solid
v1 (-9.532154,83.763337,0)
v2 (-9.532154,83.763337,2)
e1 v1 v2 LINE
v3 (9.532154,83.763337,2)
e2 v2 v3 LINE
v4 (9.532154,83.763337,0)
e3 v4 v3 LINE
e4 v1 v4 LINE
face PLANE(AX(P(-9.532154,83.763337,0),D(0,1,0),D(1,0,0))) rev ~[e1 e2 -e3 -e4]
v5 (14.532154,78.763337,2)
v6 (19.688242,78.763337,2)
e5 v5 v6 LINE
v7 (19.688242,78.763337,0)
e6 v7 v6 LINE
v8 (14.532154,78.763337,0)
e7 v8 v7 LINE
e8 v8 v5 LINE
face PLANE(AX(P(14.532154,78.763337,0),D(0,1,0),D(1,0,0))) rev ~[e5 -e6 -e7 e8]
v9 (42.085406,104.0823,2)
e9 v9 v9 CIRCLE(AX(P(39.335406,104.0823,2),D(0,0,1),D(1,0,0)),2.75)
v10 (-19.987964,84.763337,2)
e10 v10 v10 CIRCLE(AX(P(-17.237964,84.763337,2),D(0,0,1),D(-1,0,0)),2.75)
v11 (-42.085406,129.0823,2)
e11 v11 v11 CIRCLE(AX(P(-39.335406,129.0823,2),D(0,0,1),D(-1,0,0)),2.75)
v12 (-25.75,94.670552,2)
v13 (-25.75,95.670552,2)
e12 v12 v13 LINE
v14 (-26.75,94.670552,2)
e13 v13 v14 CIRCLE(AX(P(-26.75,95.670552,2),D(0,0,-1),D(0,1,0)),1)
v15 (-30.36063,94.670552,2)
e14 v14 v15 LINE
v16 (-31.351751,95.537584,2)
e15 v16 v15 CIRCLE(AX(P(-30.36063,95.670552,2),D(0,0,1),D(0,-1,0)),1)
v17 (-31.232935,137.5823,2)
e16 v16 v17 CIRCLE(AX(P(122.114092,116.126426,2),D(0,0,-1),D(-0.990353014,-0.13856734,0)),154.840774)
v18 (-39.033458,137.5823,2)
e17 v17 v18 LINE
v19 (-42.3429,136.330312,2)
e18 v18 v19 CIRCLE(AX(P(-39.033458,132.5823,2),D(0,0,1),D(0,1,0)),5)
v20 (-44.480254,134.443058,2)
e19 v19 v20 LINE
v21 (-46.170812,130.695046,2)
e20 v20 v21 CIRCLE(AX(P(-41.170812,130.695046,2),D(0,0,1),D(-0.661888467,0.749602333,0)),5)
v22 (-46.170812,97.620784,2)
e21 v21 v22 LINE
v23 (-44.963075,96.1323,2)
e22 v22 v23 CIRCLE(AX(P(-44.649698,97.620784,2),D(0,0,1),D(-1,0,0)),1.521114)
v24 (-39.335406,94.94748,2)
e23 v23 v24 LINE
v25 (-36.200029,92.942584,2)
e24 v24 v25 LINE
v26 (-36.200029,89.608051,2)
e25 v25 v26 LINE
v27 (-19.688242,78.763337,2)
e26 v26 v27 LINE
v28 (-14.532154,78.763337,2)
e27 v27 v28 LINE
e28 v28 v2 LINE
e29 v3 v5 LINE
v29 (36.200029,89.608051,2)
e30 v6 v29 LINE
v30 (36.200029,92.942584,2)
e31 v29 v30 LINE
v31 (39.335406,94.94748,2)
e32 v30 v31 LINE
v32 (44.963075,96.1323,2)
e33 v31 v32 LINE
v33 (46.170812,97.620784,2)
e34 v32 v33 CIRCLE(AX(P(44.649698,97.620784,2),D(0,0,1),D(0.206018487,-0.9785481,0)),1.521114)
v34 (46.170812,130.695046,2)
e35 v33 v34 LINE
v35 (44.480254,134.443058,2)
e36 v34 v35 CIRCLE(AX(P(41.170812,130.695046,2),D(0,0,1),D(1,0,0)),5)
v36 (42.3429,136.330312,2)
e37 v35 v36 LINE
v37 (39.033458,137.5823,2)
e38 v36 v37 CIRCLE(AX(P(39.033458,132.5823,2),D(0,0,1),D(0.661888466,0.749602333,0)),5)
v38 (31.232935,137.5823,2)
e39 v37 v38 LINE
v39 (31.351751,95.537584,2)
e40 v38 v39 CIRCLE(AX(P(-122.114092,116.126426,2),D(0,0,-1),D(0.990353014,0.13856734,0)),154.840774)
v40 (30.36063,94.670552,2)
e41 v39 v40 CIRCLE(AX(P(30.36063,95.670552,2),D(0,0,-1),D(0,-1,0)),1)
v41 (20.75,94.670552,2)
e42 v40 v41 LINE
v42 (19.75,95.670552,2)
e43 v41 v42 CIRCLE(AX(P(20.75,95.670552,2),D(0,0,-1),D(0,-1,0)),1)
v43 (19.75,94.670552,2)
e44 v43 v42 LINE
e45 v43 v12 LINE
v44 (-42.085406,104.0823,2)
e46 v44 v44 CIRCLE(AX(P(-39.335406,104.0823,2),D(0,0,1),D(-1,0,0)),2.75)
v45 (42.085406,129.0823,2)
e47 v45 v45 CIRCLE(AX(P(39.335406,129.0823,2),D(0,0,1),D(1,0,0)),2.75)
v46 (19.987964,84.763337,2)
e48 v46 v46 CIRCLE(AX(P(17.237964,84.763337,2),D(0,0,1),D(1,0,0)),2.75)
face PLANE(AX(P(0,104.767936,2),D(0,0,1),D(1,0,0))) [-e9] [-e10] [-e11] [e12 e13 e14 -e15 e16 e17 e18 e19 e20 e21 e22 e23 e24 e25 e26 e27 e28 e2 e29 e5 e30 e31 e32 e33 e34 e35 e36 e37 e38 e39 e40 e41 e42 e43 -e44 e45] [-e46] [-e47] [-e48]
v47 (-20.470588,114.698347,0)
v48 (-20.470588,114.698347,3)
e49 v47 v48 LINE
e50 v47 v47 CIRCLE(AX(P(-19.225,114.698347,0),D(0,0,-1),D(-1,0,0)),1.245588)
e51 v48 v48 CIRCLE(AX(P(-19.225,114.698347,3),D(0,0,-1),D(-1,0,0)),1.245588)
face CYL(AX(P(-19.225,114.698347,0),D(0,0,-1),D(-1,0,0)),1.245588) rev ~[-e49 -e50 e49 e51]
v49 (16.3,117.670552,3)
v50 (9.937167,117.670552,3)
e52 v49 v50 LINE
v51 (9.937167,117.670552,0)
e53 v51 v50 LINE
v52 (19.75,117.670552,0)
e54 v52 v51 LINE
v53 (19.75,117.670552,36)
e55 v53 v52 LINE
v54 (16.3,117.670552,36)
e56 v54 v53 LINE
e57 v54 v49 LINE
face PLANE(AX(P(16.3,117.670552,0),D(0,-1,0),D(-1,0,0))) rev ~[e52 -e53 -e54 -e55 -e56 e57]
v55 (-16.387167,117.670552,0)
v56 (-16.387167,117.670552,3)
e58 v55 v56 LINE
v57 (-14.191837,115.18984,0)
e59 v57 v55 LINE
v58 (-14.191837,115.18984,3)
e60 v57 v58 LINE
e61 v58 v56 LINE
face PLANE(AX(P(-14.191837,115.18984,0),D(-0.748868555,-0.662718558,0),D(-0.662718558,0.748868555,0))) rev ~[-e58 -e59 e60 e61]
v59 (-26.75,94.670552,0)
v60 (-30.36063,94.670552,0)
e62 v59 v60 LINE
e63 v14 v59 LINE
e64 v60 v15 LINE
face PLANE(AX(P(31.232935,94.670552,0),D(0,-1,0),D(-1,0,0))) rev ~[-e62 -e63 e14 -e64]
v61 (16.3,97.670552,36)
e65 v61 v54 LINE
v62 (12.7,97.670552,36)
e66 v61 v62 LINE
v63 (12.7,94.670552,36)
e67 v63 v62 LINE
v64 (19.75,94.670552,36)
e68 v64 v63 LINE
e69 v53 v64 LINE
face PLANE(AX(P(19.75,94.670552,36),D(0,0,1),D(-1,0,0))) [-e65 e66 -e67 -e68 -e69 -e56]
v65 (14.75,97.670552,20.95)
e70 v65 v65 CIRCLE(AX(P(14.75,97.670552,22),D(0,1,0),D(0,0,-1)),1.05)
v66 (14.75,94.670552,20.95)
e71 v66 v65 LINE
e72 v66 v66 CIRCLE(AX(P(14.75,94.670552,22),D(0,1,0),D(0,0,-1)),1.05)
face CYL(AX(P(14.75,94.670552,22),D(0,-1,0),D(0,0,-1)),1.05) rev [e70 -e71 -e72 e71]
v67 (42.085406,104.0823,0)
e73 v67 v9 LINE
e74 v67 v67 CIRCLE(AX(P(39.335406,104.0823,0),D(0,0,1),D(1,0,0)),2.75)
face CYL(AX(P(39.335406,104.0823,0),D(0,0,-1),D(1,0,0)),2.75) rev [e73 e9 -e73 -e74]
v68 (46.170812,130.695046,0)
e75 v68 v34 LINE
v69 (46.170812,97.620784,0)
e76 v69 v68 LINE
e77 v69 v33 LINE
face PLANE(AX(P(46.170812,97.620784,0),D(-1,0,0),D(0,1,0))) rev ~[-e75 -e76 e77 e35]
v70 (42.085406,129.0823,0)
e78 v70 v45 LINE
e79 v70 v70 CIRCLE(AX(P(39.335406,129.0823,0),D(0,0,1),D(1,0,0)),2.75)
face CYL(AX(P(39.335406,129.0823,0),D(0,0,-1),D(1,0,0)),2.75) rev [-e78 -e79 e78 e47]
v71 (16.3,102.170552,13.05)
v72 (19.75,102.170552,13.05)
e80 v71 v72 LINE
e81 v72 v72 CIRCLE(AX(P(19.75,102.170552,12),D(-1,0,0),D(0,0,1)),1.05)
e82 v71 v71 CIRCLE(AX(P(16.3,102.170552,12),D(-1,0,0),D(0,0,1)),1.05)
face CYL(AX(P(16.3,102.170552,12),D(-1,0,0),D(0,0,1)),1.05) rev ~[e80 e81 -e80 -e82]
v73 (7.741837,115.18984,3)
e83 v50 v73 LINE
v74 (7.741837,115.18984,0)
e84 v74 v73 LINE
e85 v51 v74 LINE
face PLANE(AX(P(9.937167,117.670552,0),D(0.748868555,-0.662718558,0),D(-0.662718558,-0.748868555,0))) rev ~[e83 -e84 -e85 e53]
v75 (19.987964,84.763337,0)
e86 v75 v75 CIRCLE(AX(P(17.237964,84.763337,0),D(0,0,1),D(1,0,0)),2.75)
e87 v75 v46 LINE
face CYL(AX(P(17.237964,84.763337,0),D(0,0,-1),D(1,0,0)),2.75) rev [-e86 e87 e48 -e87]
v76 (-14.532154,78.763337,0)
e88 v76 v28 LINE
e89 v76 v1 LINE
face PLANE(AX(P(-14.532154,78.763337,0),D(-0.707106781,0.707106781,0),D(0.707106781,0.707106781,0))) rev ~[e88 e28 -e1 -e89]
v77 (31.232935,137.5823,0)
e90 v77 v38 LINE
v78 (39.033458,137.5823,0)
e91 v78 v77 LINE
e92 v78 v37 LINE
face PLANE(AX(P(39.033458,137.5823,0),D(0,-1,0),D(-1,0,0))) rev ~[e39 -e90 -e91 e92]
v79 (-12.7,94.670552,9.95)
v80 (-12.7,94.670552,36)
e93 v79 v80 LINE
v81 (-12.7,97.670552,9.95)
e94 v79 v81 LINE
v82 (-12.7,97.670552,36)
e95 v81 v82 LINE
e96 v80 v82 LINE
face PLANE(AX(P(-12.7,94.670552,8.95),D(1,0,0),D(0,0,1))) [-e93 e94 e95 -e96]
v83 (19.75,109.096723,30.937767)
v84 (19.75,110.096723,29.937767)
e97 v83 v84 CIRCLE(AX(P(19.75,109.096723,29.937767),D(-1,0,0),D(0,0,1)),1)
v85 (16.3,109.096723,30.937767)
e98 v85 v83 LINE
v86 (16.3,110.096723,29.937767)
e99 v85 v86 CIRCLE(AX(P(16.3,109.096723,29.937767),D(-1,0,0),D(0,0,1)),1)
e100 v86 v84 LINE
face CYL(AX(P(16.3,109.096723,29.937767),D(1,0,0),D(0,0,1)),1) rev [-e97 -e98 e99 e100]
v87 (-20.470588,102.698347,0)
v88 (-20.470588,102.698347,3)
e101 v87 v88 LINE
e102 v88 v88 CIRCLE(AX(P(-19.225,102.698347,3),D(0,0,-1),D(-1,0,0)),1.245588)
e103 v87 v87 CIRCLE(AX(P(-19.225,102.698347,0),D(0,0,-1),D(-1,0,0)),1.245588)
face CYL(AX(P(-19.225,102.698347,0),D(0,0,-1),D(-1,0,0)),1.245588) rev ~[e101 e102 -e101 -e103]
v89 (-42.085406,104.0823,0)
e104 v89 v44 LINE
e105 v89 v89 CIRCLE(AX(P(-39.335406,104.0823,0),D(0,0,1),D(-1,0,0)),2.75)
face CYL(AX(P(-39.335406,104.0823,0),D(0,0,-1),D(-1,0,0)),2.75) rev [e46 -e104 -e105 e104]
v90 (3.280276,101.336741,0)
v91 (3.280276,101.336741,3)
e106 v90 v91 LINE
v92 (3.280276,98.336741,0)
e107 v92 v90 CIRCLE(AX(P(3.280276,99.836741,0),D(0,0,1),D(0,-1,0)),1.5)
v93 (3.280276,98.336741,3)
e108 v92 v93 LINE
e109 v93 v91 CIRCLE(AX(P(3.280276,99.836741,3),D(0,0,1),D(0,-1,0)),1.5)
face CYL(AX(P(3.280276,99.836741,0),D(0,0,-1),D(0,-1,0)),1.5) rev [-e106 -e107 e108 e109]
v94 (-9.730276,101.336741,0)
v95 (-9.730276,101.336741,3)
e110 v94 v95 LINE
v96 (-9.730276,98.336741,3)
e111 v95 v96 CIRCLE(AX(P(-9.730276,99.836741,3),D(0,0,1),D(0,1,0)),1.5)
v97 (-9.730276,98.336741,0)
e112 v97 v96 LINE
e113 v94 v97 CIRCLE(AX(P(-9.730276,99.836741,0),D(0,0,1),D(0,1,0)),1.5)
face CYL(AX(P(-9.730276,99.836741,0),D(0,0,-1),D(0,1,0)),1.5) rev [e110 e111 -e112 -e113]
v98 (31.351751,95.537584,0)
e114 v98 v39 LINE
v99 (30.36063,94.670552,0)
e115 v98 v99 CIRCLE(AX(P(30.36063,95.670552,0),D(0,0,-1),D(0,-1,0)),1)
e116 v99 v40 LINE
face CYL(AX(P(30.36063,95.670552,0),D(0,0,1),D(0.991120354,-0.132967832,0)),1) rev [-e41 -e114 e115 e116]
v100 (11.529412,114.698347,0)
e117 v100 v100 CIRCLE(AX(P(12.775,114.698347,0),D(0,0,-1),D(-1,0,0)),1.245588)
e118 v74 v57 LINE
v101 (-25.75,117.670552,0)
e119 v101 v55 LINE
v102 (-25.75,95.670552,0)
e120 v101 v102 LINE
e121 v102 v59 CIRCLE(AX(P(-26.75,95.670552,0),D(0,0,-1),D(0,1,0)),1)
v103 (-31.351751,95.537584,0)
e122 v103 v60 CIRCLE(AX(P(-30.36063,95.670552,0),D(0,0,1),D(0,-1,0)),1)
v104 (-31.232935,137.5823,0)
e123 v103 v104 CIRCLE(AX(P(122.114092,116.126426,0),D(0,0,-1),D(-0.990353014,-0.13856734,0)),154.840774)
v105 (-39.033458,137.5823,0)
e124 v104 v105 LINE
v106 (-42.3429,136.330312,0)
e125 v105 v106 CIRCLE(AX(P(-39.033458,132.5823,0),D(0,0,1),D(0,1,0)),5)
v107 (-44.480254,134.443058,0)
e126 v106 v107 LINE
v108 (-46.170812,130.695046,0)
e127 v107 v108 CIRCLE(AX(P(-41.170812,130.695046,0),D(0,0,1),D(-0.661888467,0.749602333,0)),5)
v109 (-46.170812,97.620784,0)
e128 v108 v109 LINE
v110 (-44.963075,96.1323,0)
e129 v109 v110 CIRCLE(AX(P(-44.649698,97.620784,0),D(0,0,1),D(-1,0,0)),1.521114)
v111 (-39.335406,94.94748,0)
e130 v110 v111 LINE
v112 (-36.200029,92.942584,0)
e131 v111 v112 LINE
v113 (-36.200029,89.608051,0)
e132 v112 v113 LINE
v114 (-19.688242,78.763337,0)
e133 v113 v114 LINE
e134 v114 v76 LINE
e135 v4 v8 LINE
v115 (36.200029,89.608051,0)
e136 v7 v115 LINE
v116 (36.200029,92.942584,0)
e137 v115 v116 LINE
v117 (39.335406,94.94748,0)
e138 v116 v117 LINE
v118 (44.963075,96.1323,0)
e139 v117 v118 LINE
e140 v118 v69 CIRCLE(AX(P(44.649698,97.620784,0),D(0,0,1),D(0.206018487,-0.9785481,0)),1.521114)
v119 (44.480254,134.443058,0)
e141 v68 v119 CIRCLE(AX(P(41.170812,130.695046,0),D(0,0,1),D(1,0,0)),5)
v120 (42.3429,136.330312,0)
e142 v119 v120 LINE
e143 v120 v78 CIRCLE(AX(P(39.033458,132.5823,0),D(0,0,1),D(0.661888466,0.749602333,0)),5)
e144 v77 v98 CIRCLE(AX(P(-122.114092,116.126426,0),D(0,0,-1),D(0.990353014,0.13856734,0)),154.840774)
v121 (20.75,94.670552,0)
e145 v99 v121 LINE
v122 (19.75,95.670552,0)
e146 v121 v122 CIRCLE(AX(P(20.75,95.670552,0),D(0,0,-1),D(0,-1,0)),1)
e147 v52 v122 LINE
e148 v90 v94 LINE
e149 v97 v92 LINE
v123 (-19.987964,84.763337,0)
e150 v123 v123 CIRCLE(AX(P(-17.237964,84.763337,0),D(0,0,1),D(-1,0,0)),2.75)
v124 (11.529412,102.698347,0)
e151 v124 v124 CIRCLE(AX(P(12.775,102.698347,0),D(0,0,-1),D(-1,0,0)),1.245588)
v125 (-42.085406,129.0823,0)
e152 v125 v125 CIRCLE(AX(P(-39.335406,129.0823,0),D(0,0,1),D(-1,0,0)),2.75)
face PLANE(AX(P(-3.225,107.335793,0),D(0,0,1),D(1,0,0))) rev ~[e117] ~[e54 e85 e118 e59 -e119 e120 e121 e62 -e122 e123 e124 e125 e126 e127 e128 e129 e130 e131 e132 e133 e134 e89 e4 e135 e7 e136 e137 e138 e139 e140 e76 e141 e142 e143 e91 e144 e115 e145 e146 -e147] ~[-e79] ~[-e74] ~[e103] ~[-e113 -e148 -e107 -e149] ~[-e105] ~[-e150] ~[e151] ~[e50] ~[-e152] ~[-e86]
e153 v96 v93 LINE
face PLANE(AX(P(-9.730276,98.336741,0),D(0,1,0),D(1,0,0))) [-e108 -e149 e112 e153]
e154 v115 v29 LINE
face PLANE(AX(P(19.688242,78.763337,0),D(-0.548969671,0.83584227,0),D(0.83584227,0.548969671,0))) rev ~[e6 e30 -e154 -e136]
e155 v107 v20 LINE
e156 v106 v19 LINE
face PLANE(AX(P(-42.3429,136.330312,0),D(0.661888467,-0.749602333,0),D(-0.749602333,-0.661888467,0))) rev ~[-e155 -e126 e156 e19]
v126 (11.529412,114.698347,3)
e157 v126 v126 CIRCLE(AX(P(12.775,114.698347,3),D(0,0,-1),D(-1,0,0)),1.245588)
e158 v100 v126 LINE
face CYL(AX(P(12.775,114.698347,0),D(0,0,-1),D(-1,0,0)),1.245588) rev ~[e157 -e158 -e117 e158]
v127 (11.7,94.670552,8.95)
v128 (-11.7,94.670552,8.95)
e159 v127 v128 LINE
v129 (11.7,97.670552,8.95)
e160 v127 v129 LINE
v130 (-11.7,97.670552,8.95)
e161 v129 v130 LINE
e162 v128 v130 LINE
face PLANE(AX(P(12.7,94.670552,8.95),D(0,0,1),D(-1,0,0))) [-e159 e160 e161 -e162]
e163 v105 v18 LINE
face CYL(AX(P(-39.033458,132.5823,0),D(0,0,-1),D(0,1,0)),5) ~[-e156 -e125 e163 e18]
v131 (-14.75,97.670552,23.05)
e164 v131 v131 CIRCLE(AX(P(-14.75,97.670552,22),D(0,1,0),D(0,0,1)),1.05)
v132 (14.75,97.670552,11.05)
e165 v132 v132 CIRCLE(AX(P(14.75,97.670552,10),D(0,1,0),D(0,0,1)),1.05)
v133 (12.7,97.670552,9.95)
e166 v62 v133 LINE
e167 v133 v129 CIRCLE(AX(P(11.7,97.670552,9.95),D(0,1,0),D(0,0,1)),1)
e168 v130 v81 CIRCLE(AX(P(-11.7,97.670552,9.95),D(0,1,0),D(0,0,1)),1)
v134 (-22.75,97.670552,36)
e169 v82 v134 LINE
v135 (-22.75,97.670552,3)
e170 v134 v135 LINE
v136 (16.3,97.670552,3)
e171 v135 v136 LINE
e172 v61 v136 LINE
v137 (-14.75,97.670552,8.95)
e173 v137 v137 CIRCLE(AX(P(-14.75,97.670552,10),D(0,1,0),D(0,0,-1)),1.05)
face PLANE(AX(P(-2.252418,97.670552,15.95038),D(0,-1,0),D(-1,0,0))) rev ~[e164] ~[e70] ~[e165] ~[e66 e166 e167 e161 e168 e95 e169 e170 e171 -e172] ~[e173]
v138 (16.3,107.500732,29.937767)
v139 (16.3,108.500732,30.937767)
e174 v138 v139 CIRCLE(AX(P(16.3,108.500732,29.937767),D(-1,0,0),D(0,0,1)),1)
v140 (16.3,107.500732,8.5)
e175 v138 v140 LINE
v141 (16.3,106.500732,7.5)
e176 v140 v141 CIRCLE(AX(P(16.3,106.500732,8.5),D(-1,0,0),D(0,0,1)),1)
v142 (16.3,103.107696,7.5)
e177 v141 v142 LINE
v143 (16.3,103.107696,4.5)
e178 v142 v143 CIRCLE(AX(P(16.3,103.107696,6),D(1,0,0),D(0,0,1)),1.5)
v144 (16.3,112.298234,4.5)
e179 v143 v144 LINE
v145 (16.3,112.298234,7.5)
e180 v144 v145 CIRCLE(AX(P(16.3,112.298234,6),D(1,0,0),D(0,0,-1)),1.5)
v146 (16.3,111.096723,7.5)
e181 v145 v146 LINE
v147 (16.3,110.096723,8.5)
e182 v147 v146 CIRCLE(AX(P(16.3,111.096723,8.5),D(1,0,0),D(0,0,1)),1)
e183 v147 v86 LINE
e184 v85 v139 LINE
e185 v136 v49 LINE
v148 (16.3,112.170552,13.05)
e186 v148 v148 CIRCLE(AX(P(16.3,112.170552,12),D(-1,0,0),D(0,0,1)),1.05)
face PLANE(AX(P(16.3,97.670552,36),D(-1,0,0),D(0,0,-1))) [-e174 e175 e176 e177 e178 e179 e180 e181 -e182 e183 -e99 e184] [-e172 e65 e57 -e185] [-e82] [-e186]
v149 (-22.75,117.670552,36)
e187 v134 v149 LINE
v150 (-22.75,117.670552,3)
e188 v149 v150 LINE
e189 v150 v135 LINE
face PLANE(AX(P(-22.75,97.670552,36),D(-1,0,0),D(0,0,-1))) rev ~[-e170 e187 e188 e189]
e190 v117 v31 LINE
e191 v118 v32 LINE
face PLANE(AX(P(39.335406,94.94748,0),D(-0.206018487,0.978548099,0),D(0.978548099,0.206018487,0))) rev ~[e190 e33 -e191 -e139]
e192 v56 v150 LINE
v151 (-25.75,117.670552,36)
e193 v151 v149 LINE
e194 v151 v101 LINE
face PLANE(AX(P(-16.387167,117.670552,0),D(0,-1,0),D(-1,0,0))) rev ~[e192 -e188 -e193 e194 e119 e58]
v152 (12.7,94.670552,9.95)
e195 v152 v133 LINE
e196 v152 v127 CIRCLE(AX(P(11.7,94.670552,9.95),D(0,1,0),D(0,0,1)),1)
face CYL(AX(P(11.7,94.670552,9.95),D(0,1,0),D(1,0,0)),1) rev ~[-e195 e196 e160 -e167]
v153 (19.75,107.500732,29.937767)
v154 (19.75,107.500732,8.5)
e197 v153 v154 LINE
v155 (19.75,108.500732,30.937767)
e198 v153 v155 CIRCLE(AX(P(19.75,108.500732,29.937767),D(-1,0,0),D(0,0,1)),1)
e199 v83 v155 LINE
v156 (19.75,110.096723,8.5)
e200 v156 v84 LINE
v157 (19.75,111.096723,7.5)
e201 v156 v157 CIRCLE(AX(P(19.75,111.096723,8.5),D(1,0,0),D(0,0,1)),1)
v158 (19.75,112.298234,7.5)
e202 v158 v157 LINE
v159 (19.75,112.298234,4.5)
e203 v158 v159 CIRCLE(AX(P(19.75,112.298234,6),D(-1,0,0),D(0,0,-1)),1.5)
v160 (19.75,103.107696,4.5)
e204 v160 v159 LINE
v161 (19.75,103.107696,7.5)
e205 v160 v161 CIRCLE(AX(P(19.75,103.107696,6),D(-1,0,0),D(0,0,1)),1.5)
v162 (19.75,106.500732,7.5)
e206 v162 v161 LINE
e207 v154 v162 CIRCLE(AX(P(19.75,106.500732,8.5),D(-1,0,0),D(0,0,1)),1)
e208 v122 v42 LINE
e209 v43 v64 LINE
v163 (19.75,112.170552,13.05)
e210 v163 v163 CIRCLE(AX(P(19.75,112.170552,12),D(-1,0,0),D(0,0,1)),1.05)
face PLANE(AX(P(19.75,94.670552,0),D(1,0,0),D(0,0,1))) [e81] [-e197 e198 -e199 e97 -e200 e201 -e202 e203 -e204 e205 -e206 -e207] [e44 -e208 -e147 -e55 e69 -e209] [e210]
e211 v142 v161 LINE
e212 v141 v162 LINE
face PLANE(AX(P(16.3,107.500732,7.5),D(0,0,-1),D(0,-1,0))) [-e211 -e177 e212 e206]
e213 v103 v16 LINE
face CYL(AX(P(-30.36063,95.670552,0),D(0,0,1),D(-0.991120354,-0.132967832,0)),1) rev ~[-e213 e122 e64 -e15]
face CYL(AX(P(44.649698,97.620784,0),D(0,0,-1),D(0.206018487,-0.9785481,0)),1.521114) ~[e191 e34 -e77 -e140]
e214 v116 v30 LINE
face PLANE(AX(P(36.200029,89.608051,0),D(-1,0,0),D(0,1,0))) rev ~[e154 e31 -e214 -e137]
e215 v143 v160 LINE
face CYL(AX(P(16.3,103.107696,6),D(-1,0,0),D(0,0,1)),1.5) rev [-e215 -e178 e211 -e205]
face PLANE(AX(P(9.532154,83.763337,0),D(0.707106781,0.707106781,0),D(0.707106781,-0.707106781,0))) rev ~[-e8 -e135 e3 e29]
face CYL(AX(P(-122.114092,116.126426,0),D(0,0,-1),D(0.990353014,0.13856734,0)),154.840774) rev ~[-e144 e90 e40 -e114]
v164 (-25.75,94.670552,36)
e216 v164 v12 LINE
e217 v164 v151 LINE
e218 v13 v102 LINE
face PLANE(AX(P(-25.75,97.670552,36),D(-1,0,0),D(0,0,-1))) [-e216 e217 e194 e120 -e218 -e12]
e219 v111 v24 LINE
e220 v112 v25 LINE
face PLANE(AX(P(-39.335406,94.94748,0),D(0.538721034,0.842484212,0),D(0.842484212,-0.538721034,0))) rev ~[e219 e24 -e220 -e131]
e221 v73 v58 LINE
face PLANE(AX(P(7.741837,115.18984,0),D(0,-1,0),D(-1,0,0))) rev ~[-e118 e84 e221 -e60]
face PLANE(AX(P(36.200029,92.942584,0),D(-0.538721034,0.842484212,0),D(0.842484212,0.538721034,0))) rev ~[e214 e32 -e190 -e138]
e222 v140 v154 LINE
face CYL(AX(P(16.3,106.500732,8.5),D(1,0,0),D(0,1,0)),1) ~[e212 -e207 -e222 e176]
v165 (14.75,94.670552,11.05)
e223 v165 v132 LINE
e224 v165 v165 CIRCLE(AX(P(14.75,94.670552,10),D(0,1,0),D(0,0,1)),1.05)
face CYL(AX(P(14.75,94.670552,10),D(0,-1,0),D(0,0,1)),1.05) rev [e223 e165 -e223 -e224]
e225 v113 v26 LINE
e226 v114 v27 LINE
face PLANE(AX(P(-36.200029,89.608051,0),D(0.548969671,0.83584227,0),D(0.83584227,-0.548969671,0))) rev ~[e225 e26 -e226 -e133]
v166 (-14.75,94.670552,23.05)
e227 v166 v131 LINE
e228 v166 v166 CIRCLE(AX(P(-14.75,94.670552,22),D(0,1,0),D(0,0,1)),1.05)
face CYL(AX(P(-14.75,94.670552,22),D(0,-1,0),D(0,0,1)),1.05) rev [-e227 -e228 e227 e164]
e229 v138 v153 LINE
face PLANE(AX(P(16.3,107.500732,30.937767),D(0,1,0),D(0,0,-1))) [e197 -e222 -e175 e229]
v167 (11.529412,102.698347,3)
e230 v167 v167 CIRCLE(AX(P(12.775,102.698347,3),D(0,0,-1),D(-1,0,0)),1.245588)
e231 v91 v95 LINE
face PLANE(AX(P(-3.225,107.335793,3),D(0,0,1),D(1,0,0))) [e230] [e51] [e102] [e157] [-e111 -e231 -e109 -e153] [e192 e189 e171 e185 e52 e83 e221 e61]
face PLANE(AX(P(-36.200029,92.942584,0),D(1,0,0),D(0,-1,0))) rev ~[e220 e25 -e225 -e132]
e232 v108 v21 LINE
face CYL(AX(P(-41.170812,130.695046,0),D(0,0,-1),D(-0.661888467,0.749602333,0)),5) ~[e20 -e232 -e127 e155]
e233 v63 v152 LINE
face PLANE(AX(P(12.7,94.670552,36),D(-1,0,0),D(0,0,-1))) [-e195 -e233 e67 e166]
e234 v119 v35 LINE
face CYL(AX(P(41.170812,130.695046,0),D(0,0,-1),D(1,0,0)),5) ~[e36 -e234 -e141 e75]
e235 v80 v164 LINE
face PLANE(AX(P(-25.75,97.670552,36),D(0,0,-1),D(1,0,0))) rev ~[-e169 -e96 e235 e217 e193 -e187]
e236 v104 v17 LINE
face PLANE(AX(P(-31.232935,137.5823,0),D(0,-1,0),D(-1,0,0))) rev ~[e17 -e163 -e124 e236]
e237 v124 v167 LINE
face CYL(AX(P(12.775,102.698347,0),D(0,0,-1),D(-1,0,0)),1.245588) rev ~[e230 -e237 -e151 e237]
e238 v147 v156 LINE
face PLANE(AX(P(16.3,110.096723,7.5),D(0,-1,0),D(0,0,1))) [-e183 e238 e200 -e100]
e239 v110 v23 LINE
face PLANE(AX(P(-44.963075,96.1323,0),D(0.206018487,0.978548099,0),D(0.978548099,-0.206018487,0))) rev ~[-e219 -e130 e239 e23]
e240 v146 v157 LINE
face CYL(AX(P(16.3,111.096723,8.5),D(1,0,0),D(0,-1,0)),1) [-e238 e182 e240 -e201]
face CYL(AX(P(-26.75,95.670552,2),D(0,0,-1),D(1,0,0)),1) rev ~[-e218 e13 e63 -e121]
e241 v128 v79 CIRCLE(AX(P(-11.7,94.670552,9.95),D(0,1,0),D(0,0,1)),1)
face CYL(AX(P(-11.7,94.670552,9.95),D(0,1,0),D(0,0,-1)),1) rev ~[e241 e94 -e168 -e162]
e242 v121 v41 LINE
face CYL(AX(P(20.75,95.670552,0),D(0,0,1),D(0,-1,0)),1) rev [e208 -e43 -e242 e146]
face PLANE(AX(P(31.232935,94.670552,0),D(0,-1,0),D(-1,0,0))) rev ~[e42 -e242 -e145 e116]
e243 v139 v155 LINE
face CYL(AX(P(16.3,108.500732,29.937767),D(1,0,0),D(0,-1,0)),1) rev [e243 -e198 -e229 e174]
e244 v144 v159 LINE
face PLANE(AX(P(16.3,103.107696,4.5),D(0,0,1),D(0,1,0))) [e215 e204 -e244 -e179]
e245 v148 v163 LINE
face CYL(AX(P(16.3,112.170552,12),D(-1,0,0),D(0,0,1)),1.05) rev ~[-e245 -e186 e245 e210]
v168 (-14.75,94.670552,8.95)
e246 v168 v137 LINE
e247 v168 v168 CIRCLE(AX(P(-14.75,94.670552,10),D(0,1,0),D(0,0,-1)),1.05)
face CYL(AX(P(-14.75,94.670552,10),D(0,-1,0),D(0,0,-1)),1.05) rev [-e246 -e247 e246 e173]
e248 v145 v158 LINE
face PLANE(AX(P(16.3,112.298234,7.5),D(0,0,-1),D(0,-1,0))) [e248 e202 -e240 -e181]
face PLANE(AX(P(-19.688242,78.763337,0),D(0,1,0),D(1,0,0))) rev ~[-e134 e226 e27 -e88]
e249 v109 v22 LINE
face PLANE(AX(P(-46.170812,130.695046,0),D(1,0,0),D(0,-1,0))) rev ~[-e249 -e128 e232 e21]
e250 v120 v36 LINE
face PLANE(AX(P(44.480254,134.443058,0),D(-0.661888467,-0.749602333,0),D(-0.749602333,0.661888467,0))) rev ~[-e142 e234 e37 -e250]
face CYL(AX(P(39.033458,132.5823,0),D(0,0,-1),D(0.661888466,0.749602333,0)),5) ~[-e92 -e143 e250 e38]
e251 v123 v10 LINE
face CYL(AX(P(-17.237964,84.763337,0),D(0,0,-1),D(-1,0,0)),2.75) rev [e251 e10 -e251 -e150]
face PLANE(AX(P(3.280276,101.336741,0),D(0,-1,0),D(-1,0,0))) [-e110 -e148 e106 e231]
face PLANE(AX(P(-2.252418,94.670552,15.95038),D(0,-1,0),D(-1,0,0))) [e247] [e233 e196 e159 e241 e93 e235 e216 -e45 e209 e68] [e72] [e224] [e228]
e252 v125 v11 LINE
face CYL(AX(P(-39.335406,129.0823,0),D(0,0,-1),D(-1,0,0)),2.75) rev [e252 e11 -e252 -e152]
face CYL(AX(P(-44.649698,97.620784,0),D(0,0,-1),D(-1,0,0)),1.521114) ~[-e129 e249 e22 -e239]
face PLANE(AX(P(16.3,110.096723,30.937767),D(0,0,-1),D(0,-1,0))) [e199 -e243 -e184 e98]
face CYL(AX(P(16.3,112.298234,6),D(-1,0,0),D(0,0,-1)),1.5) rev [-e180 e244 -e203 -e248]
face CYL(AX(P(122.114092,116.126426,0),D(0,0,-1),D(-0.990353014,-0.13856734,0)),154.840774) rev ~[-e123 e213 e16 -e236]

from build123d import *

# Parameters (mm, degrees)
SKETCH_1_R              = 2.75
EXTRUDE_1_DEPTH         = 2
SKETCH_2_R              = 1.05
EXTRUDE_13689_DEPTH     = 3
SKETCH_3_W              = 3
SKETCH_3_H              = 36
SKETCH_3_W_2            = 3.45
EXTRUDE_14140_DEPTH     = 20
CUT_EXTRUDE_14477_REACH = 157.33
SKETCH_5_R              = 1.05
SKETCH_6_R              = 1.245588001
EXTRUDE_15246_DEPTH     = 3
FILLET_1_R              = 1


with BuildPart() as part:
    # 草图1 → 凸台-拉伸1 (new body)
    with BuildSketch(Plane.XY):
        with BuildLine():
            Line((-31.232935168, 137.582300402), (-39.033457742, 137.582300402))
            ThreePointArc((-39.033457742, 137.582300402), (-40.802630101, 137.2588407), (-42.342900075, 136.330312067))
            Line((-42.342900075, 136.330312067), (-44.480254451, 134.443057788))
            ThreePointArc((-44.480254451, 134.443057788), (-45.728619247, 132.750865708), (-46.170812117, 130.695046123))
            Line((-46.170812117, 130.695046123), (-46.170812117, 97.620783931))
            ThreePointArc((-46.170812117, 97.620783931), (-45.830898888, 96.66237235), (-44.963075466, 96.132300402))
            Line((-44.963075466, 96.132300402), (-39.335406059, 94.947479812))
            Line((-39.335406059, 94.947479812), (-36.200029499, 92.942583722))
            Line((-36.200029499, 92.942583722), (-36.200029499, 89.608050871))
            Line((-36.200029499, 89.608050871), (-19.688242157, 78.763336754))
            Line((-19.688242157, 78.763336754), (-14.532154357, 78.763336754))
            Line((-14.532154357, 78.763336754), (-9.532154357, 83.763336754))
            Line((-9.532154357, 83.763336754), (9.532154357, 83.763336754))
            Line((9.532154357, 83.763336754), (14.532154357, 78.763336754))
            Line((14.532154357, 78.763336754), (19.688242157, 78.763336754))
            Line((19.688242157, 78.763336754), (36.200029499, 89.608050871))
            Line((36.200029499, 89.608050871), (36.200029499, 92.942583722))
            Line((36.200029499, 92.942583722), (39.335406059, 94.947479812))
            Line((39.335406059, 94.947479812), (44.963075466, 96.132300402))
            ThreePointArc((44.963075466, 96.132300402), (45.830898888, 96.66237235), (46.170812117, 97.620783931))
            Line((46.170812117, 97.620783931), (46.170812117, 130.695046123))
            ThreePointArc((46.170812117, 130.695046123), (45.728619247, 132.750865708), (44.480254451, 134.443057788))
            Line((44.480254451, 134.443057788), (42.342900075, 136.330312067))
            ThreePointArc((42.342900075, 136.330312067), (40.802630101, 137.2588407), (39.033457742, 137.582300402))
            Line((39.033457742, 137.582300402), (31.232935168, 137.582300402))
            ThreePointArc((31.232935168, 137.582300402), (32.726681953, 116.126426191), (31.232935168, 94.67055198))
            Line((31.232935168, 94.67055198), (-31.232935168, 94.67055198))
            ThreePointArc((-31.232935168, 94.67055198), (-32.726681953, 116.126426191), (-31.232935168, 137.582300402))
        make_face()
        with Locations((39.335406059, 129.082300402)):
            Circle(SKETCH_1_R, mode=Mode.SUBTRACT)
        with Locations((39.335406059, 104.082300402)):
            Circle(SKETCH_1_R, mode=Mode.SUBTRACT)
        with Locations((17.23796389, 84.763336754)):
            Circle(SKETCH_1_R, mode=Mode.SUBTRACT)
        with Locations(Location((-17.23796389, 84.763336754, 0), (0, 0, 180))):
            Circle(SKETCH_1_R, mode=Mode.SUBTRACT)
        with Locations(Location((-39.335406059, 104.082300402, 0), (0, 0, 180))):
            Circle(SKETCH_1_R, mode=Mode.SUBTRACT)
        with Locations(Location((-39.335406059, 129.082300402, 0), (0, 0, 180))):
            Circle(SKETCH_1_R, mode=Mode.SUBTRACT)
    extrude(amount=EXTRUDE_1_DEPTH)

    # 草图2 → Extrude 13689 (add)
    with BuildSketch(Plane(origin=(0, 94.67055198, 0), x_dir=(1, 0, 0), z_dir=(0, 1, 0))):
        Polygon((12.371090345, 0), (19.75, 0), (19.75, -36), (12.7, -36), (12.7, -8.95), (-12.7, -8.95), (-12.7, -36), (-25.75, -36), (-25.75, 0), (-12.371090345, 0), align=None)
        with Locations(Location((14.75, -10, 0), (0, 0, 270))):
            Circle(SKETCH_2_R, mode=Mode.SUBTRACT)
        with Locations(Location((-14.75, -10, 0), (0, 0, 90))):
            Circle(SKETCH_2_R, mode=Mode.SUBTRACT)
        with Locations(Location((-14.75, -22, 0), (0, 0, 270))):
            Circle(SKETCH_2_R, mode=Mode.SUBTRACT)
        with Locations(Location((14.75, -22, 0), (0, 0, 90))):
            Circle(SKETCH_2_R, mode=Mode.SUBTRACT)
    extrude(amount=EXTRUDE_13689_DEPTH)

    # 草图3 → Extrude 14140 (add)
    with BuildSketch(Plane(origin=(0, 97.67055198, 0), x_dir=(1, 0, 0), z_dir=(0, 1, 0))):
        with Locations((-24.25, -18)):
            Rectangle(SKETCH_3_W, SKETCH_3_H)
        with Locations((18.025, -18)):
            Rectangle(SKETCH_3_W_2, SKETCH_3_H)
    extrude(amount=EXTRUDE_14140_DEPTH)

    # 草图5 → Cut-Extrude 14477 (cut, up to next)
    with BuildSketch(Plane.ZY.offset(-16.3), mode=Mode.PRIVATE) as cut_extrude_14477_sk1:
        with Locations((12, 102.17055198)):
            Circle(SKETCH_5_R)
    cut_extrude_14477_tool1 = extrude(cut_extrude_14477_sk1.sketch, amount=-CUT_EXTRUDE_14477_REACH, mode=Mode.PRIVATE) & part.part
    # 草图5 → Cut-Extrude 14477 (cut, up to next)
    with BuildSketch(Plane.ZY.offset(-16.3), mode=Mode.PRIVATE) as cut_extrude_14477_sk2:
        with Locations((12, 112.17055198)):
            Circle(SKETCH_5_R)
    cut_extrude_14477_tool2 = extrude(cut_extrude_14477_sk2.sketch, amount=-CUT_EXTRUDE_14477_REACH, mode=Mode.PRIVATE) & part.part
    # 草图5 → Cut-Extrude 14477 (cut, up to next)
    with BuildSketch(Plane.ZY.offset(-16.3), mode=Mode.PRIVATE) as cut_extrude_14477_sk3:
        with BuildLine():
            Line((7.5, 112.298234054), (7.5, 110.096723462))
            Line((7.5, 110.096723462), (30.937767474, 110.096723462))
            Line((30.937767474, 110.096723462), (30.937767474, 107.500731647))
            Line((30.937767474, 107.500731647), (7.5, 107.500731647))
            Line((7.5, 107.500731647), (7.5, 103.107695613))
            ThreePointArc((7.5, 103.107695613), (6, 101.607695613), (4.5, 103.107695613))
            Line((4.5, 103.107695613), (4.5, 112.298234054))
            ThreePointArc((4.5, 112.298234054), (6, 113.798234054), (7.5, 112.298234054))
        make_face()
    cut_extrude_14477_tool3 = extrude(cut_extrude_14477_sk3.sketch, amount=-CUT_EXTRUDE_14477_REACH, mode=Mode.PRIVATE) & part.part
    add(cut_extrude_14477_tool1.solids().sort_by_distance((16.3, 102.170552, 12))[0], mode=Mode.SUBTRACT)
    add(cut_extrude_14477_tool2.solids().sort_by_distance((16.3, 112.170552, 12))[0], mode=Mode.SUBTRACT)
    add(cut_extrude_14477_tool3.solids().sort_by_distance((16.3, 108.401203, 14.423289))[0], mode=Mode.SUBTRACT)

    # 草图6 → Extrude 15246 (add)
    with BuildSketch(Plane(origin=(0, 0, 0), x_dir=(-1, 0, 0), z_dir=(0, 0, -1))):
        Polygon((-16.3, 117.67055198), (-9.937167199, 117.67055198), (-7.741837129, 115.189840313), (14.191837129, 115.189840313), (16.387167199, 117.67055198), (22.75, 117.67055198), (22.75, 97.67055198), (-16.3, 97.67055198), align=None)
        with Locations((-12.775, 114.69834671)):
            Circle(SKETCH_6_R, mode=Mode.SUBTRACT)
        with Locations((19.225, 114.69834671)):
            Circle(SKETCH_6_R, mode=Mode.SUBTRACT)
        with Locations((-12.775, 102.69834671)):
            Circle(SKETCH_6_R, mode=Mode.SUBTRACT)
        with Locations((19.225, 102.69834671)):
            Circle(SKETCH_6_R, mode=Mode.SUBTRACT)
        with BuildLine():
            Line((-3.280276477, 101.336740903), (9.730276477, 101.336740903))
            ThreePointArc((9.730276477, 101.336740903), (11.230276477, 99.836740903), (9.730276477, 98.336740903))
            Line((9.730276477, 98.336740903), (-3.280276477, 98.336740903))
            ThreePointArc((-3.280276477, 98.336740903), (-4.780276477, 99.836740903), (-3.280276477, 101.336740903))
        make_face(mode=Mode.SUBTRACT)
    extrude(amount=-EXTRUDE_15246_DEPTH)

    # 圆角1
    fillet_1_edges = [part.edges().sort_by_distance(p)[0] for p in [
        (19.75, 94.67055198, 1),
        (-25.75, 94.67055198, 1),
        (-12.7, 96.17055198, 8.95),
        (12.7, 96.17055198, 8.95),
        (18.025, 110.096723462, 7.5),
        (18.025, 110.096723462, 30.937767474),
        (18.025, 107.500731647, 30.937767474),
        (18.025, 107.500731647, 7.5),
        (-31.232935168, 94.67055198, 1),
        (31.232935168, 94.67055198, 1),
    ]]
    fillet(fillet_1_edges, radius=FILLET_1_R)


solid = part.part
